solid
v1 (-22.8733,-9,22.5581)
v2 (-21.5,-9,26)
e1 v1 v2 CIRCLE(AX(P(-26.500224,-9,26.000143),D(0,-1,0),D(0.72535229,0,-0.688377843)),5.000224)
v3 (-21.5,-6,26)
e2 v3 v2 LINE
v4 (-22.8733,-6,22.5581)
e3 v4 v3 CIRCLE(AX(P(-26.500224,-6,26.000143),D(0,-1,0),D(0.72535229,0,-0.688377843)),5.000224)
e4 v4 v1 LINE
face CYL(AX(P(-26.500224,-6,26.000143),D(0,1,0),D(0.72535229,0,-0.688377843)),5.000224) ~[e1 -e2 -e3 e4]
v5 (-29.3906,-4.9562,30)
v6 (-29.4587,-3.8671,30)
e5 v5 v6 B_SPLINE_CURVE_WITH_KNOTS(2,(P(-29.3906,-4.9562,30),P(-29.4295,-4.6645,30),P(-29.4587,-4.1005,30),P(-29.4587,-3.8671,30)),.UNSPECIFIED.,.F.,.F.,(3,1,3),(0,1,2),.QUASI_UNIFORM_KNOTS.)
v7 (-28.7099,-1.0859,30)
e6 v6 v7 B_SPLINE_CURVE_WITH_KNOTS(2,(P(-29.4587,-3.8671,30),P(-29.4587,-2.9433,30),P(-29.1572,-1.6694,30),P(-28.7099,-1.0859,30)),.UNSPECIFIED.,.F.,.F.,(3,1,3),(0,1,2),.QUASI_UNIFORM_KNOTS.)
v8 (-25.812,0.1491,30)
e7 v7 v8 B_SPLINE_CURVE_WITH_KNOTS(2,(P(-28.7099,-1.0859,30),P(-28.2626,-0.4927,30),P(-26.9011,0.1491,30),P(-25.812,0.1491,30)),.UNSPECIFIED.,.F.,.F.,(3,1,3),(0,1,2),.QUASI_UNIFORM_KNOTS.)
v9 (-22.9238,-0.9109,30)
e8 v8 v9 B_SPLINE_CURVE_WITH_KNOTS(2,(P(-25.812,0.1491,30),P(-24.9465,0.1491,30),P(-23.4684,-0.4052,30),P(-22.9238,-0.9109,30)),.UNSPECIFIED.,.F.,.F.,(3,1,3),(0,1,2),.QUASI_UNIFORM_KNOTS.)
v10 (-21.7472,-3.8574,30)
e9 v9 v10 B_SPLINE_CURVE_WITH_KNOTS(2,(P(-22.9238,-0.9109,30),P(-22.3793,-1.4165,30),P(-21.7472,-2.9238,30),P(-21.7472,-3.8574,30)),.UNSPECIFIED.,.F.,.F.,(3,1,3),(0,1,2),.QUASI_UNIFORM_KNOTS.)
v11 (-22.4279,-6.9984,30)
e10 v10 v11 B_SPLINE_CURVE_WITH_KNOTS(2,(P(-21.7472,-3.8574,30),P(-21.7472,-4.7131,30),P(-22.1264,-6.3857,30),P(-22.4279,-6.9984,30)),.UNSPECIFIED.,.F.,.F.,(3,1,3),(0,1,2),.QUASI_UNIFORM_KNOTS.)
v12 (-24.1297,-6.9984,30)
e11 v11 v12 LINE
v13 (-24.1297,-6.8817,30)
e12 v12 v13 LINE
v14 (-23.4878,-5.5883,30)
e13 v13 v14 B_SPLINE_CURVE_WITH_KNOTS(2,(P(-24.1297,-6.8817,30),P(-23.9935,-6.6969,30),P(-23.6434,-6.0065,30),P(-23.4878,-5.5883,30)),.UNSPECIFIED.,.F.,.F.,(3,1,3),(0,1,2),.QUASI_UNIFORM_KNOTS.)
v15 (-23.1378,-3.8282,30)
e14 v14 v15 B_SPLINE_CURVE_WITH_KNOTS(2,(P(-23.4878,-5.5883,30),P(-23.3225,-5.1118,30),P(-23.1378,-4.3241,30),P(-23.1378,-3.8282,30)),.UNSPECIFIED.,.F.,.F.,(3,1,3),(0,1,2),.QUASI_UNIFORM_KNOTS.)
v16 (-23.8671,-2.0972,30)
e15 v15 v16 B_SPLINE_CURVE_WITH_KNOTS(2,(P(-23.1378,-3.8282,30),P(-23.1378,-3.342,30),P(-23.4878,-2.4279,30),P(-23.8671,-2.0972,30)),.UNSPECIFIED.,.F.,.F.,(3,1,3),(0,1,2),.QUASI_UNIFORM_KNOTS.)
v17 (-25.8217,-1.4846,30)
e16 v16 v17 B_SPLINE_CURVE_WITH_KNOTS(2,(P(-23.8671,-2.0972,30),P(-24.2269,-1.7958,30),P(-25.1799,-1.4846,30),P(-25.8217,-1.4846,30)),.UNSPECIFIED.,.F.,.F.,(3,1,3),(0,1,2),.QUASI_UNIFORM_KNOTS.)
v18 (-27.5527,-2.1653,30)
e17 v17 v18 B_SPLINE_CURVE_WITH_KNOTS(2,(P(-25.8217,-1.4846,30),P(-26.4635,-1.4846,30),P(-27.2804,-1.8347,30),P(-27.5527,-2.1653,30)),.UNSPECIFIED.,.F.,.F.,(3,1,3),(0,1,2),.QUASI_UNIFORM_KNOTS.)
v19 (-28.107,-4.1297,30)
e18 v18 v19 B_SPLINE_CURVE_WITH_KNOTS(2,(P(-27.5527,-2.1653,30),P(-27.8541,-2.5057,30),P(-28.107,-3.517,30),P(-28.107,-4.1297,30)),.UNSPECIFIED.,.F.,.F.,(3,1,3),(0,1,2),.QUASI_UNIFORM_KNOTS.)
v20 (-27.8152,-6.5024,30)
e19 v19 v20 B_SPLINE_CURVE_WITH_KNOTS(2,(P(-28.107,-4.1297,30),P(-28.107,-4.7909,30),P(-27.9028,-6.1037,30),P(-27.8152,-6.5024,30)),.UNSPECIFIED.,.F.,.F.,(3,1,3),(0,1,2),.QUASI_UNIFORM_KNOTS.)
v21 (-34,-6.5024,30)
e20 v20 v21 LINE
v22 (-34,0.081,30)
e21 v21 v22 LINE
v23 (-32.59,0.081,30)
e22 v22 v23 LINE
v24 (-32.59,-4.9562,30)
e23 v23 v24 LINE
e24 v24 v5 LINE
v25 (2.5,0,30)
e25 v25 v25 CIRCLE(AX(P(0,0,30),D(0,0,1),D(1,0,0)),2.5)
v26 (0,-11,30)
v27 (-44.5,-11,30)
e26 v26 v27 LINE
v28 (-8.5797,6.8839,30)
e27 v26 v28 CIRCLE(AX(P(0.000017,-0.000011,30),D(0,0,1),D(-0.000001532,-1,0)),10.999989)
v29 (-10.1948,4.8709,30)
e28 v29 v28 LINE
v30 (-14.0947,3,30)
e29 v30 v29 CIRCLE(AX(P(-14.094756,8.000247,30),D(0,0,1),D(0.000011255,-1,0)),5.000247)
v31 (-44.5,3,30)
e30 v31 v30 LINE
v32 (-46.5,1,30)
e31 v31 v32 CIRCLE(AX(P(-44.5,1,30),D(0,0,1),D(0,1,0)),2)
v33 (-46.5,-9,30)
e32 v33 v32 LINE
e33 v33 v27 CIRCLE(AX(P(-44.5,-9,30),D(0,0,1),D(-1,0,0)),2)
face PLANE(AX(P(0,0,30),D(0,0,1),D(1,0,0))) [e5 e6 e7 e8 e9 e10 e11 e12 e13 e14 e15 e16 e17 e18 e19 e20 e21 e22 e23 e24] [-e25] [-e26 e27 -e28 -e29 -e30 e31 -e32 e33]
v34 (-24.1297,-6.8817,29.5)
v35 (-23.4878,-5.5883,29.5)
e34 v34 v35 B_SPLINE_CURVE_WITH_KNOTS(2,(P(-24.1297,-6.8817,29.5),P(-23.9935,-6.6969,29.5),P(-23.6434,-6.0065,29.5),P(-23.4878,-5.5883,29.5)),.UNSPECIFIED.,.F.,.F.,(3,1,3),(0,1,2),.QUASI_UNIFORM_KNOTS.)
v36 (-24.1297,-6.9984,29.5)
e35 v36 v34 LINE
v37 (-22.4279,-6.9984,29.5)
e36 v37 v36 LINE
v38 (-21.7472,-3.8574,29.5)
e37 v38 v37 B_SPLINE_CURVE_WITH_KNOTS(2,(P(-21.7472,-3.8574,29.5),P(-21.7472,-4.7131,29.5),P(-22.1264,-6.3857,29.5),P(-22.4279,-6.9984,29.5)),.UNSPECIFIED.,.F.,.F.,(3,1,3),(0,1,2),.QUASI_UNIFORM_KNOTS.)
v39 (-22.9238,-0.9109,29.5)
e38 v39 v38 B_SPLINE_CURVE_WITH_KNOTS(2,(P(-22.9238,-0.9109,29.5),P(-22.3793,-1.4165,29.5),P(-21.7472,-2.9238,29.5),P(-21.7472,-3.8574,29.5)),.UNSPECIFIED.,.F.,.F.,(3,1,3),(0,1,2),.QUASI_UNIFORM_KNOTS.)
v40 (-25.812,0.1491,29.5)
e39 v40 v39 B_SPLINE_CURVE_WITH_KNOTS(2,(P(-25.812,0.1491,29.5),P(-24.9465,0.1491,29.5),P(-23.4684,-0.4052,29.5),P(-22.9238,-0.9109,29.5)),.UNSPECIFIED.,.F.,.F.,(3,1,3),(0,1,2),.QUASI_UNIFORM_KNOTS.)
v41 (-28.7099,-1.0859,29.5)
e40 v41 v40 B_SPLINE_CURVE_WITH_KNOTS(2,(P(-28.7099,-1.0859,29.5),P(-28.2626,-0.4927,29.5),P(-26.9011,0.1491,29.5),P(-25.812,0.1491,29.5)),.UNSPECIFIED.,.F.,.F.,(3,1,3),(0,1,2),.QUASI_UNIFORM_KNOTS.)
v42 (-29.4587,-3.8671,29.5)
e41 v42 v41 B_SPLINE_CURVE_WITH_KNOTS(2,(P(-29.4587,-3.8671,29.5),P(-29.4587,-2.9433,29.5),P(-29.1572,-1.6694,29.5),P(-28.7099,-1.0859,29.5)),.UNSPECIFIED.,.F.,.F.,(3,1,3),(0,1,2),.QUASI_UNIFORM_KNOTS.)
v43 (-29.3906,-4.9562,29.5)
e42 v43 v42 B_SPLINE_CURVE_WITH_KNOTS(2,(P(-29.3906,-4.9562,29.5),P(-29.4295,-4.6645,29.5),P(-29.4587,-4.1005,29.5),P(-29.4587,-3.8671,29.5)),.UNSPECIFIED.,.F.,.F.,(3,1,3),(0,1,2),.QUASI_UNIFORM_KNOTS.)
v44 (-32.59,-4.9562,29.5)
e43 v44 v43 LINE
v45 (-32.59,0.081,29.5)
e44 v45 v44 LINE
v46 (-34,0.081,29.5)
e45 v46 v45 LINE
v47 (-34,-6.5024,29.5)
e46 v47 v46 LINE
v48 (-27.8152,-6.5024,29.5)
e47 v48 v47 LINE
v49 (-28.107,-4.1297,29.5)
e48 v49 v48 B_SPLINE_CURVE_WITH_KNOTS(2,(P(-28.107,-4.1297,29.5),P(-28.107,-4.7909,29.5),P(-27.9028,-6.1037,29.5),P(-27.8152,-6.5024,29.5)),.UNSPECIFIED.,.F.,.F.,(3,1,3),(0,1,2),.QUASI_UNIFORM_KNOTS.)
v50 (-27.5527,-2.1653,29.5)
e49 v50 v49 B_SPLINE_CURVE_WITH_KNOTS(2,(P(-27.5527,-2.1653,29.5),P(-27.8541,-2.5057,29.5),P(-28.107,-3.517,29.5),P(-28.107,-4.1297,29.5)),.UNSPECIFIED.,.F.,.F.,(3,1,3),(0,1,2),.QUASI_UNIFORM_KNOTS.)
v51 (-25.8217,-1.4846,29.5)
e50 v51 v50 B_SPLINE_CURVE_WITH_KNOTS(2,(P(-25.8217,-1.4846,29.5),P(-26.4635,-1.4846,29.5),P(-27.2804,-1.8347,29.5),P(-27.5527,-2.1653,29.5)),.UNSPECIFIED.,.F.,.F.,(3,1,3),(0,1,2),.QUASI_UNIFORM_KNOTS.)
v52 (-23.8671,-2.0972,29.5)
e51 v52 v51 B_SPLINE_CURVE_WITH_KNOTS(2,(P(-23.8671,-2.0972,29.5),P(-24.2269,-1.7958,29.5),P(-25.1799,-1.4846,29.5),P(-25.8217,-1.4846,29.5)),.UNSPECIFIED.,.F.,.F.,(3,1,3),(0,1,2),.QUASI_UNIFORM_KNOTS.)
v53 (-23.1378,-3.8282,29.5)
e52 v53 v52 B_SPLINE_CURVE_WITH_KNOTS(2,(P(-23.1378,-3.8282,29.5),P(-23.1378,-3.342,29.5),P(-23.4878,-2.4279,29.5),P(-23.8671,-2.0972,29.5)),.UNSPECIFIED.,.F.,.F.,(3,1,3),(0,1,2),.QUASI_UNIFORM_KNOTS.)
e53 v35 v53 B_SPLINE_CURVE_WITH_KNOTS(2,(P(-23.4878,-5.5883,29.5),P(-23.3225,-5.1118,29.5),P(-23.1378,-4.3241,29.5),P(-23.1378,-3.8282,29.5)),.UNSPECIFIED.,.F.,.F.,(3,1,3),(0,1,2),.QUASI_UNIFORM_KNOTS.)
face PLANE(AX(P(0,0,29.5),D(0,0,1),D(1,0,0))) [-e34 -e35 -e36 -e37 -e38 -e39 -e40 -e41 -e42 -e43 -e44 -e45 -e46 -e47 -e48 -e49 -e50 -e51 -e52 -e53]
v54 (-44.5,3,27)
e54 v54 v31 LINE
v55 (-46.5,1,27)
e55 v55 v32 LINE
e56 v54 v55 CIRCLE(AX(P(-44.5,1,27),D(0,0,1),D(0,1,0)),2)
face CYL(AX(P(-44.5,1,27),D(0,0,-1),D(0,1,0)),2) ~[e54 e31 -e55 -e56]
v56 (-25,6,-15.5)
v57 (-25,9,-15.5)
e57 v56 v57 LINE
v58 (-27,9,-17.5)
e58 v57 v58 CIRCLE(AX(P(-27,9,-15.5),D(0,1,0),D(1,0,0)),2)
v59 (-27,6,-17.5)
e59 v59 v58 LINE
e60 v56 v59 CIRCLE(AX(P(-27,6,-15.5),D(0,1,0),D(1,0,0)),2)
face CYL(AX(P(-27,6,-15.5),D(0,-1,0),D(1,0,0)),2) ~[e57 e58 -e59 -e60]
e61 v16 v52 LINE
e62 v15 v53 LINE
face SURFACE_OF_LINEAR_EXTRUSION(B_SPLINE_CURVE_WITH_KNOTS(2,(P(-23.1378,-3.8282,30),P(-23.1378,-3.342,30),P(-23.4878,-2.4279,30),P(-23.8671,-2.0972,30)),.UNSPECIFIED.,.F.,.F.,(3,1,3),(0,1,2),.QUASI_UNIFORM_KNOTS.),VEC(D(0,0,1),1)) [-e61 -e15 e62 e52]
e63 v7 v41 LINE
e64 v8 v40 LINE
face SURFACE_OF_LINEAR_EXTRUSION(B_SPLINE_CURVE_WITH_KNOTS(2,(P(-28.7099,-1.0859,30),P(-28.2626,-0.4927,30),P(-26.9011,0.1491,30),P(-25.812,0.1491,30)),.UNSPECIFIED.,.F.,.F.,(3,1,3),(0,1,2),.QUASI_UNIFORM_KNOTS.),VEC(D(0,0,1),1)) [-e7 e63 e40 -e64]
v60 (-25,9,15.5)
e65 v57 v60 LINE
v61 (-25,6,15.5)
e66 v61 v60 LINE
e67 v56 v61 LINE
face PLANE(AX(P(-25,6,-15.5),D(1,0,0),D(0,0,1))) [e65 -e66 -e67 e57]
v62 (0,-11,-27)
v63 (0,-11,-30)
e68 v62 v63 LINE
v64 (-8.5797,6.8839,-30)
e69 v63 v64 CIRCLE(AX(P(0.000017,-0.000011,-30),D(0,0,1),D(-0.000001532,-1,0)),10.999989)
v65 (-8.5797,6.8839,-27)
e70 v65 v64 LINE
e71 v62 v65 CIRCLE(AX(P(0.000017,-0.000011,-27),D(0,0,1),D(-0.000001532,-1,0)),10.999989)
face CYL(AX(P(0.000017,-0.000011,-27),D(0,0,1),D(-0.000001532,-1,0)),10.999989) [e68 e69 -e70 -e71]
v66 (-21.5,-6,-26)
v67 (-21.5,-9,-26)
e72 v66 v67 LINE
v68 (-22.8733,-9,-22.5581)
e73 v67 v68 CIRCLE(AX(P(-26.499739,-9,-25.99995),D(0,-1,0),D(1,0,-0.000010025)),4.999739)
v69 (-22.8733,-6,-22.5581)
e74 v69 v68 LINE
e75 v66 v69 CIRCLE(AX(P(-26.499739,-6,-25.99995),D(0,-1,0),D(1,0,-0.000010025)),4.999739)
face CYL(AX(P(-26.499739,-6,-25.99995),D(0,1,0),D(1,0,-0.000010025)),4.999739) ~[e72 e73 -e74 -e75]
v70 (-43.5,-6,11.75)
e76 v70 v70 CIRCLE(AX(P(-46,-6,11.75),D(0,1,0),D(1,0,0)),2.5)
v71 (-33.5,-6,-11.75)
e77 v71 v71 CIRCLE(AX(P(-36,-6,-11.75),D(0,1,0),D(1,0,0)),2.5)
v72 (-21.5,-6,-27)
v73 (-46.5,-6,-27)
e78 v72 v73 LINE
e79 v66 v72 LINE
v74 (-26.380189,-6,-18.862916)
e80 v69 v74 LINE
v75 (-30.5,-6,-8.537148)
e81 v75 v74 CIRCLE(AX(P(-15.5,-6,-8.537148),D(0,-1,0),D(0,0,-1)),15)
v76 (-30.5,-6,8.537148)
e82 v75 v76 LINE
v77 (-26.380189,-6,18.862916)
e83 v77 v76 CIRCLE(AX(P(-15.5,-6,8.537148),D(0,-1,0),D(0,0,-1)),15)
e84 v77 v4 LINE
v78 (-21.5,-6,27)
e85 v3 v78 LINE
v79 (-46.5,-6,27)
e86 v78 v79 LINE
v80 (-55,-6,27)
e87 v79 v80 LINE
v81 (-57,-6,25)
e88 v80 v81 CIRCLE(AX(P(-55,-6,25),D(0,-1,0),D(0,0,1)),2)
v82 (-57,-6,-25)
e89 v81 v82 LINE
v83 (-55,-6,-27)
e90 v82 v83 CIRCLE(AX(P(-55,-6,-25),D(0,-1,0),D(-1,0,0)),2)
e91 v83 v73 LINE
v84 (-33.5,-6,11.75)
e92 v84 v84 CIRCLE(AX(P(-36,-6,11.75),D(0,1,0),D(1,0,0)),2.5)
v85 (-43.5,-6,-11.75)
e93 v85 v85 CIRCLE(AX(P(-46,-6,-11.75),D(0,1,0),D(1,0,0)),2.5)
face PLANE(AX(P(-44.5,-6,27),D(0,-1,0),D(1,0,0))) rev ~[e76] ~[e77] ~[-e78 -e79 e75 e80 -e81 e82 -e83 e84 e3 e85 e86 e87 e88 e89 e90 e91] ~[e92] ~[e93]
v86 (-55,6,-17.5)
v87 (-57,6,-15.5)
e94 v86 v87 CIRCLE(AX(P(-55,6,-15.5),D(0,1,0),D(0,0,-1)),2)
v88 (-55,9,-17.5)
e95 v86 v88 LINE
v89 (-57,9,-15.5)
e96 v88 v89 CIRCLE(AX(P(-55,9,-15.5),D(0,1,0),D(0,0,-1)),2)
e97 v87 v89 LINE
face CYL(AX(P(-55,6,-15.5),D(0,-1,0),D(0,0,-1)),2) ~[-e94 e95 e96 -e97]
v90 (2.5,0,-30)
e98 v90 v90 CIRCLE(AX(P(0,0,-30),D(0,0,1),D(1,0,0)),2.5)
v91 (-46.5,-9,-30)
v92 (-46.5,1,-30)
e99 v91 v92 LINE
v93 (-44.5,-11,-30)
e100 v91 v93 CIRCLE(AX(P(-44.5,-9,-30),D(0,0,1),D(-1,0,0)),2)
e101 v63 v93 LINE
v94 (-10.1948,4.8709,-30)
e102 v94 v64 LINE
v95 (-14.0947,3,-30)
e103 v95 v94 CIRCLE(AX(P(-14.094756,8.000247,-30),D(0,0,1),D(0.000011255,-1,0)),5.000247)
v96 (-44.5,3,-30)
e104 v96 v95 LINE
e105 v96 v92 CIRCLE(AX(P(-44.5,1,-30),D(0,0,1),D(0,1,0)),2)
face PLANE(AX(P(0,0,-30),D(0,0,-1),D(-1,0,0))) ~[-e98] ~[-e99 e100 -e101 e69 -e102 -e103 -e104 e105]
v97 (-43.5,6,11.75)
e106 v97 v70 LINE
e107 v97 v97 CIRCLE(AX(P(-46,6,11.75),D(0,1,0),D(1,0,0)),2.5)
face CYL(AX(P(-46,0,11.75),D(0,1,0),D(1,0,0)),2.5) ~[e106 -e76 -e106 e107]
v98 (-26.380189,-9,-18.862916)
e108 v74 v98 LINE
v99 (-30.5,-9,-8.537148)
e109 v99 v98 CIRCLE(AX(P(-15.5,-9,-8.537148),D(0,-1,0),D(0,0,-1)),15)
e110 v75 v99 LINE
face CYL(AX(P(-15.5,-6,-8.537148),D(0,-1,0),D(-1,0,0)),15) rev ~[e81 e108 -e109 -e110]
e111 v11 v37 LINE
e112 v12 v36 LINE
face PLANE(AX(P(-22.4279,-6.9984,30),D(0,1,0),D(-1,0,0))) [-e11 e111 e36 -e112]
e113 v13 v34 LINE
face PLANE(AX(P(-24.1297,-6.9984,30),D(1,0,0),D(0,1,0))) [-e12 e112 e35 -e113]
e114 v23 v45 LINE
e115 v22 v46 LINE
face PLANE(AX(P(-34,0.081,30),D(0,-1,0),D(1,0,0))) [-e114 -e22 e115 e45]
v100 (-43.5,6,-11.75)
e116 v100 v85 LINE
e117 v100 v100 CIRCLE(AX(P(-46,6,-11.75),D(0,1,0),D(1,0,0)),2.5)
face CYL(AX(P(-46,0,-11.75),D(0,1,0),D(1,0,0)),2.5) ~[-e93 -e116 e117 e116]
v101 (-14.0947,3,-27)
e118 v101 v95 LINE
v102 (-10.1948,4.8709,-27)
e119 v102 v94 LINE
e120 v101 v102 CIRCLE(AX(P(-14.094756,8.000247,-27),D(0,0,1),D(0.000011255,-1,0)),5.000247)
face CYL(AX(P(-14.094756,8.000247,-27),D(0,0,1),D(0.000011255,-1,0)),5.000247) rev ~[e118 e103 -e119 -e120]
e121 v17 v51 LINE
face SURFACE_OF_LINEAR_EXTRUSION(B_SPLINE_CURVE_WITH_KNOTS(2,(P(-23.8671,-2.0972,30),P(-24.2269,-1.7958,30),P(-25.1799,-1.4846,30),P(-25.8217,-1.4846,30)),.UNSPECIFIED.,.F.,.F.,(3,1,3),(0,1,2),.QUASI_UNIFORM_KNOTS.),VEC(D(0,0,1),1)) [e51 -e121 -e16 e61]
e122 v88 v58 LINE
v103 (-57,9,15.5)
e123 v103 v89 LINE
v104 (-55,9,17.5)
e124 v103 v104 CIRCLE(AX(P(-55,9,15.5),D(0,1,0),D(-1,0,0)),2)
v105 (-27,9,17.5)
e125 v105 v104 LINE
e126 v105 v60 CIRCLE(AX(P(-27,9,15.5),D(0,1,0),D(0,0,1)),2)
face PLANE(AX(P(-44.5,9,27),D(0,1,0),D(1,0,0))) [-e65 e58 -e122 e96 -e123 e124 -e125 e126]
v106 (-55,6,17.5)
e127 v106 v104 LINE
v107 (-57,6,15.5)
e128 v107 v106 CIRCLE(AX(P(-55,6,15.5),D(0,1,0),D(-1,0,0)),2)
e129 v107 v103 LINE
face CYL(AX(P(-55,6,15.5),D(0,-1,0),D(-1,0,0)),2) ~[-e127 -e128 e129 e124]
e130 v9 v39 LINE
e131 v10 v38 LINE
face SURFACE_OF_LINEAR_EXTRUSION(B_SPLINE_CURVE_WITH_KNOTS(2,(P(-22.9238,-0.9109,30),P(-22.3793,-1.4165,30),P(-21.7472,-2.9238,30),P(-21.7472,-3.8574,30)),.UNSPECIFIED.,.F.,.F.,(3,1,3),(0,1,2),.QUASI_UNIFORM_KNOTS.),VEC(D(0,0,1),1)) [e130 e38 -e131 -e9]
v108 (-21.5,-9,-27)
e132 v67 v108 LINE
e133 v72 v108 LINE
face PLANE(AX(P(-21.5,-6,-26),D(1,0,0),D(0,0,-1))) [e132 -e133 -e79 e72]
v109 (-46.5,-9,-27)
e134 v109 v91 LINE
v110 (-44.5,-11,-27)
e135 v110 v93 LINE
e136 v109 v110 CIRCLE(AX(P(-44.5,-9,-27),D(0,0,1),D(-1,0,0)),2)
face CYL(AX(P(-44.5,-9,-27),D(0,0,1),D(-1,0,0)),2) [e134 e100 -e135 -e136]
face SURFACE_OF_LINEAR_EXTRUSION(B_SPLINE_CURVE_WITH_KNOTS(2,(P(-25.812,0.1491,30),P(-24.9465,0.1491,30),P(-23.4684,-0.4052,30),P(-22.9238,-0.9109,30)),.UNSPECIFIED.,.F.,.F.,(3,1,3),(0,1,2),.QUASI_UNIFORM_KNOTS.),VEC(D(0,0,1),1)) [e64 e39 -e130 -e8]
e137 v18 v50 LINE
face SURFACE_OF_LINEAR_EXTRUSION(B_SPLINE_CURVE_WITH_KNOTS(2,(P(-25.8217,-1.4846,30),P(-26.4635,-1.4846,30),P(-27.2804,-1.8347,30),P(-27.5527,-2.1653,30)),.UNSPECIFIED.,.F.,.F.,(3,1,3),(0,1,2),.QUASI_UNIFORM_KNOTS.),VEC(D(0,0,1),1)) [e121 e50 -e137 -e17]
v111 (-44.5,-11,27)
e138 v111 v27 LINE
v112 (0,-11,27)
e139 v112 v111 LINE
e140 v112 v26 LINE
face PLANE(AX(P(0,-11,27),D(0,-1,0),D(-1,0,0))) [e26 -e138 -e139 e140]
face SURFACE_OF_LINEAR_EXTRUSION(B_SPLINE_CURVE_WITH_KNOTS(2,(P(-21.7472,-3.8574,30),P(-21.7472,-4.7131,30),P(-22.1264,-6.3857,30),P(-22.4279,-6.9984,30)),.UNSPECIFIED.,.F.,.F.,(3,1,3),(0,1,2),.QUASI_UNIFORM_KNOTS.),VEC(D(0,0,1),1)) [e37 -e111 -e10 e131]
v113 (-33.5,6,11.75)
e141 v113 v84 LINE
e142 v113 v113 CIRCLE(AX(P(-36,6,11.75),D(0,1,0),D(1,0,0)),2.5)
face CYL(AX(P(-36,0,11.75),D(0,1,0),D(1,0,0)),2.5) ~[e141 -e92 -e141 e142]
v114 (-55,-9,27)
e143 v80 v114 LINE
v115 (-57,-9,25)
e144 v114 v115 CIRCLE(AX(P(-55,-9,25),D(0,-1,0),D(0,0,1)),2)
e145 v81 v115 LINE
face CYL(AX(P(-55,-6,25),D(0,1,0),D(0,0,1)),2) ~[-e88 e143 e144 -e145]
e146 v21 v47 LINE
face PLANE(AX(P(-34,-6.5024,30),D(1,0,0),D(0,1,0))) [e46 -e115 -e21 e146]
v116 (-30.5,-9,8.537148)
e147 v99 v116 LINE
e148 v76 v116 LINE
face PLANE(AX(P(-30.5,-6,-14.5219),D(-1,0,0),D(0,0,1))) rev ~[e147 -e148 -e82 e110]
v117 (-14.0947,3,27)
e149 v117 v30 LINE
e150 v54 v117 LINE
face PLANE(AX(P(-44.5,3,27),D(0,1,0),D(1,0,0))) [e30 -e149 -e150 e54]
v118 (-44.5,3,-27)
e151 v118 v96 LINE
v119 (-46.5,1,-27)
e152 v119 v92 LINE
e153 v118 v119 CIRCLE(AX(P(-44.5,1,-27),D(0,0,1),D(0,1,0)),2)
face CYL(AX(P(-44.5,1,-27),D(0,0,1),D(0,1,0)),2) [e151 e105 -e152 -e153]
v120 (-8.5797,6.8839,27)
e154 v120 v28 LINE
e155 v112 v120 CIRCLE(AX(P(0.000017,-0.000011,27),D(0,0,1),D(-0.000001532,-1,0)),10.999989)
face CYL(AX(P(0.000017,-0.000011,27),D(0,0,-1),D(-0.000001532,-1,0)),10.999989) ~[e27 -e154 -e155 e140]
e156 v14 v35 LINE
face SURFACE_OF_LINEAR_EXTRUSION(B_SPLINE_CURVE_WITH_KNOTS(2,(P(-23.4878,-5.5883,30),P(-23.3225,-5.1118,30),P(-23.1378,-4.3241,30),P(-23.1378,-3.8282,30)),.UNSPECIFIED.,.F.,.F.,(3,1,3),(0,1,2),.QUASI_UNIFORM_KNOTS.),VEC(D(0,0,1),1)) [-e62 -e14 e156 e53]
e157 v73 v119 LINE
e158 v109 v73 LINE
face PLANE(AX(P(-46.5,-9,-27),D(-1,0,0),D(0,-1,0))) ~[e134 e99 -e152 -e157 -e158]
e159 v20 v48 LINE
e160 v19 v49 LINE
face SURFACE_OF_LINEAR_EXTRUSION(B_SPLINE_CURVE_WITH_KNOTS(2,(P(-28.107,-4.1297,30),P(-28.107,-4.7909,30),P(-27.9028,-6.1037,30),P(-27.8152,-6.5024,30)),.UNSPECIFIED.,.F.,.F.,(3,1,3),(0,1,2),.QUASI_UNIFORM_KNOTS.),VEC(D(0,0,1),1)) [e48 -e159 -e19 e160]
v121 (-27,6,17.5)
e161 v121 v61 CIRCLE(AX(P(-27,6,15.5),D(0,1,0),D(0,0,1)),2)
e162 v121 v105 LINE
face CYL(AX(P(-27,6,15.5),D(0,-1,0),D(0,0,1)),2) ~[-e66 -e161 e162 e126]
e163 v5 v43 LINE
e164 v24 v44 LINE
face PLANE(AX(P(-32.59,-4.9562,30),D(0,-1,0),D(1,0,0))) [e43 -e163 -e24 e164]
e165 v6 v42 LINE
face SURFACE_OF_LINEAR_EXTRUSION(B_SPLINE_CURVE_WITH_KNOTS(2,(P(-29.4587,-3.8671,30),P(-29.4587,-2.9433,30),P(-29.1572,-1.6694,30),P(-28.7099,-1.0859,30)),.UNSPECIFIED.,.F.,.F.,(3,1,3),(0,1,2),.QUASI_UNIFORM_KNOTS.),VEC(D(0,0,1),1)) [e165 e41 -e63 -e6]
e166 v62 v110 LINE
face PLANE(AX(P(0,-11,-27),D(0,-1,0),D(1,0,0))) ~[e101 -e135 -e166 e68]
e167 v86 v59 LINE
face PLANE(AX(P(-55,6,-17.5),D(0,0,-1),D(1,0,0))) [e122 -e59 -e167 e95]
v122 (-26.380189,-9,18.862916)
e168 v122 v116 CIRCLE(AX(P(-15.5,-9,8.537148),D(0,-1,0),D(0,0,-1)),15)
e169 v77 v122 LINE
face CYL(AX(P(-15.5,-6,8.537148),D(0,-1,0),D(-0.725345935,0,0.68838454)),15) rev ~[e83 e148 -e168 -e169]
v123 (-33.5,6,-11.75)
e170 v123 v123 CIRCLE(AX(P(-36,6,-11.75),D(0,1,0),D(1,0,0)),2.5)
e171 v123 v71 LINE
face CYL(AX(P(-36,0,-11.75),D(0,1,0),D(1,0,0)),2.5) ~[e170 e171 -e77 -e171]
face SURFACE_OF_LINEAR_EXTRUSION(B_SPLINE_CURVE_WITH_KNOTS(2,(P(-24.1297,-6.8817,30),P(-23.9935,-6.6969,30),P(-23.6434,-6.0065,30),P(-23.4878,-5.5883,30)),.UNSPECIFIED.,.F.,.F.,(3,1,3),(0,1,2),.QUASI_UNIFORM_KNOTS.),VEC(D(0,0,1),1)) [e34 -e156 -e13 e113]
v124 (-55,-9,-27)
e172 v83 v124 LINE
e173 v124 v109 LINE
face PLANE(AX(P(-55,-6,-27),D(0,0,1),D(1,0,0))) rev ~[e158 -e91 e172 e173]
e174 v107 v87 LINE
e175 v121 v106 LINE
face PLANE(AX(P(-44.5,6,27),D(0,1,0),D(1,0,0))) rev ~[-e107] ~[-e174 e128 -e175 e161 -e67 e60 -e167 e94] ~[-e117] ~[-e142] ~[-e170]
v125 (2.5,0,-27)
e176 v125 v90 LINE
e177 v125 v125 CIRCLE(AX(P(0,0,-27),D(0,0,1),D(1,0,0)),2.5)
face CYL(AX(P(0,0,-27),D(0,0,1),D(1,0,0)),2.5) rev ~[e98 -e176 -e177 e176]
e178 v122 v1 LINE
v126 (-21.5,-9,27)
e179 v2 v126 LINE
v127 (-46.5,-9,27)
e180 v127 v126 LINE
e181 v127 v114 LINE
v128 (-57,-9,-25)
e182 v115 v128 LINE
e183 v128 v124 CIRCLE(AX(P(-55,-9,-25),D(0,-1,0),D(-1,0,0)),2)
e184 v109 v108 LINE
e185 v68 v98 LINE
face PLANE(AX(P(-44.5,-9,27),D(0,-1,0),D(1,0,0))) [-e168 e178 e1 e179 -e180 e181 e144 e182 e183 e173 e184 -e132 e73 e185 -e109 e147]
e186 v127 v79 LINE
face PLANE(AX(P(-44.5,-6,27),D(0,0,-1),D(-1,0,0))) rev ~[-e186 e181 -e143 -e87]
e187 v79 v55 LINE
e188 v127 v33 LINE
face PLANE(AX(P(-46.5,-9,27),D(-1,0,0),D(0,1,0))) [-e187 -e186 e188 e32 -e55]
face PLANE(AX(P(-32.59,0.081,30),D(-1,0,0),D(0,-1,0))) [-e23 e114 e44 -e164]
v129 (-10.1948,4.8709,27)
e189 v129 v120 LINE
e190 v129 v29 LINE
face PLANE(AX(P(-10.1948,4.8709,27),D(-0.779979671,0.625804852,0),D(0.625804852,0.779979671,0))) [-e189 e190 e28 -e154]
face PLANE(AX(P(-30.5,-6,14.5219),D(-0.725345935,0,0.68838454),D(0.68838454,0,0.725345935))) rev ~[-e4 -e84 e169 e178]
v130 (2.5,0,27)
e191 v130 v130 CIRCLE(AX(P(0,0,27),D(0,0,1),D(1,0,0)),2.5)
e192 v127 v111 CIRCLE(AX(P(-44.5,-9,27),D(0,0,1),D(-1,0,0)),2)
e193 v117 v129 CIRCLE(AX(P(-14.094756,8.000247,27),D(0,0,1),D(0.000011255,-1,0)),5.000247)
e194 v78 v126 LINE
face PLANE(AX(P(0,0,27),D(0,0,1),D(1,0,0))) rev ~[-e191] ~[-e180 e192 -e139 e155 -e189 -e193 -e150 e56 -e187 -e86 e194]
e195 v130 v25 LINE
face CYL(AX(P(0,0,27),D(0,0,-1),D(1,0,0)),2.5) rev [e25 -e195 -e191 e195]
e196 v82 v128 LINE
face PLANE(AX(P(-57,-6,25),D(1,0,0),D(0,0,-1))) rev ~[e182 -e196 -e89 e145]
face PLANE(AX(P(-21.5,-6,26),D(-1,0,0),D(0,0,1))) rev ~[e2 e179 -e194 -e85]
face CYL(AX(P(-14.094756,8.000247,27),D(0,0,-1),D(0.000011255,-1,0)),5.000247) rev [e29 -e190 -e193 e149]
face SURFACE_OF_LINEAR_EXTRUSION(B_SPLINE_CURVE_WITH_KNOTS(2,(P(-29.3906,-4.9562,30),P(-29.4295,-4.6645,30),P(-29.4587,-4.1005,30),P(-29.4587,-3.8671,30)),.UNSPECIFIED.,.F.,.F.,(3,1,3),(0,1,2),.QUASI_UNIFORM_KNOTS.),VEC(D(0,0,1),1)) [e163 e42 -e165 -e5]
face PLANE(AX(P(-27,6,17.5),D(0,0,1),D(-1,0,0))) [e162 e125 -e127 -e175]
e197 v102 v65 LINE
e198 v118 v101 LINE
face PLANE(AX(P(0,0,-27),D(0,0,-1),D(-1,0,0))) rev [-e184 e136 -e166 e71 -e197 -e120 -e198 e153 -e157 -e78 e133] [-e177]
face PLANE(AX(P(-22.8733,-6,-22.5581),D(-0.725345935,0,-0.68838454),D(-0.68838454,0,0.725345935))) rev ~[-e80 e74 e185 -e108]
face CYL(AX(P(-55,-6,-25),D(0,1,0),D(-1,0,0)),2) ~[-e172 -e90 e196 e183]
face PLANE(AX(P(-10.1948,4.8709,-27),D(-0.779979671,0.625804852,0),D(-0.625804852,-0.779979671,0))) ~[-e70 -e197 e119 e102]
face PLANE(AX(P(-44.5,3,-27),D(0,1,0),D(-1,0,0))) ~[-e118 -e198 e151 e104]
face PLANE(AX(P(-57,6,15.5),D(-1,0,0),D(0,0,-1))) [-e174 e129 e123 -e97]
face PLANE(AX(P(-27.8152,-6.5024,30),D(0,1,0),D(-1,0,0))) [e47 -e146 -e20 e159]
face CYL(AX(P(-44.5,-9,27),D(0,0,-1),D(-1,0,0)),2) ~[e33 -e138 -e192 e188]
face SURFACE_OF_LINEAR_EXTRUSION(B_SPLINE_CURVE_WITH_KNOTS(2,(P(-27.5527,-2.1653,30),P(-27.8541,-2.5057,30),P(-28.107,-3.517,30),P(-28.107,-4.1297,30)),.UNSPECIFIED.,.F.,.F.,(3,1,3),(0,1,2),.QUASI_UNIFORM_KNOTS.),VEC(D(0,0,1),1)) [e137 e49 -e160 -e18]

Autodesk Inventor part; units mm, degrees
ref_plane "Plano de trabajo1" through (0, 0, 27) normal (0, 0, 1) x (1, 0, 0)
sketch "Boceto1" plane through (0, 0, 27) normal (0, 0, 1) x (1, 0, 0)
  arc A0 (0, -11) -> (-8.5797, 6.8839) centre (0, 0) ccw
  line L0 (0, -11) -> (-44.5, -11)
  line L1 (-46.5, -9) -> (-46.5, 1)
  line L2 (-44.5, 3) -> (-14.0947, 3)
  line L3 (-10.1948, 4.8709) -> (-8.5797, 6.8839)
  arc A1 (-14.0947, 3) -> (-10.1948, 4.8709) centre (-14.0947, 8) ccw
  arc A2 (-44.5, 3) -> (-46.5, 1) centre (-44.5, 1) ccw
  arc A3 (-46.5, -9) -> (-44.5, -11) centre (-44.5, -9) ccw
  circle A4 centre (0, 0) radius 2.5
  point P0 (-46.5, -11)
  point P1 (-46.5, 3)
  point P2 (11, 0)
  dimension "d1" = 22
  dimension "d3" = 5
  dimension "d4" = 14
  dimension "d5" = 57.5
  dimension "d6" = 2
  dimension "d7" = 5
extrude "Extrusión1" add sketch "Boceto1" along normal blind 3
mirror "Simetría1" about plane through (0, 0, 0) normal (0, 0, 1) of "Extrusión1"
ref_plane "Plano de trabajo2" through (-44.5, -6, 27) normal (0, -1, 0) x (1, 0, 0)
sketch "Boceto2" plane through (-44.5, -6, 27) normal (0, -1, 0) x (1, 0, 0)
  line L0 (0, 0) -> (44.5, 0) projected
  line L1 (23, 0) -> (-10.5, 0)
  line L2 (-12.5, -2) -> (-12.5, -52)
  line L3 (-10.5, -54) -> (23, -54)
  line L4 (0, -54) -> (44.5, -54) projected
  line L5 (21.6267, -49.5581) -> (14, -41.5219)
  line L6 (14, -41.5219) -> (14, -12.4781)
  line L7 (14, -12.4781) -> (21.6267, -4.4419)
  line L8 (23, -1) -> (23, 0)
  line L9 (23, -53) -> (23, -54)
  line L10 (0, 3) -> (-2, 3) projected
  line L11 (14, -27) -> (-19.9317, -27) construction
  arc A0 (21.6267, -4.4419) -> (23, -1) centre (18, -1) ccw
  arc A1 (23, -53) -> (21.6267, -49.5581) centre (18, -53) ccw
  arc A2 (-10.5, 0) -> (-12.5, -2) centre (-10.5, -2) ccw
  arc A3 (-12.5, -52) -> (-10.5, -54) centre (-10.5, -52) ccw
  point P0 (44.5, -27)
  point P1 (-12.5, 0)
  point P2 (-12.5, -54)
  point P3 (-1, 3)
  dimension "d11" = 26.5
  dimension "d12" = 11.5
  dimension "d13" = 9
  dimension "d14" = 9
  dimension "d16" = 5
  dimension "d17" = 1
  dimension "d18" = 1
  dimension "d19" = 27
  dimension "d40" = 2
extrude "Extrusión2" add sketch "Boceto2" along normal blind 3
ref_plane "Plano de trabajo3" through (-44.5, 6, 27) normal (0, 1, 0) x (1, 0, 0)
sketch "Boceto3" plane through (-44.5, 6, 27) normal (0, 1, 0) x (1, 0, 0)
  line L0 (-10.5, 44.5) -> (17.5, 44.5)
  line L1 (19.5, 42.5) -> (19.5, 11.5)
  line L2 (17.5, 9.5) -> (-10.5, 9.5)
  line L3 (-12.5, 11.5) -> (-12.5, 42.5)
  line L4 (0, 27) -> (-59, 27) construction
  line L5 (30.4053, 0) -> (0, 0) projected
  arc A0 (-10.5, 44.5) -> (-12.5, 42.5) centre (-10.5, 42.5) ccw
  arc A1 (-12.5, 11.5) -> (-10.5, 9.5) centre (-10.5, 11.5) ccw
  arc A2 (17.5, 9.5) -> (19.5, 11.5) centre (17.5, 11.5) ccw
  arc A3 (19.5, 42.5) -> (17.5, 44.5) centre (17.5, 42.5) ccw
  line L6 (-12.5, 2) -> (-12.5, 52) construction
  point P0 (44.5, 27)
  point P1 (-12.5, 44.5)
  point P2 (19.5, 44.5)
  point P3 (-12.5, 9.5)
  point P4 (-12.5, 27)
  point P5 (-12.5, 0)
  point P6 (-12.5, 54)
  dimension "d23" = 35
  dimension "d24" = 32
  dimension "d25" = 27
  dimension "d26" = 2
extrude "Extrusión3" add sketch "Boceto3" along normal blind 3
sketch "Boceto4" plane through (-44.5, 9, 27) normal (0, 1, 0) x (1, 0, 0)
  line L0 (-12.5, 42.5) -> (-12.5, 11.5) construction
  line L1 (-12.5, 27) -> (20, 27) construction
  circle A0 centre (8.5, 38.75) radius 2.5
  circle A1 centre (-1.5, 38.75) radius 2.5
  line L2 (3.5, 27) -> (3.5, -23) construction
  circle A2 centre (8.5, 15.25) radius 2.5
  circle A3 centre (-1.5, 15.25) radius 2.5
  point P0 (44.5, 27)
  dimension "d29" = 5
  dimension "d30" = 10
  dimension "d31" = 16
  dimension "d32" = 11.75
extrude "Extrusión4" cut sketch "Boceto4" against normal up to surface (18 mm away)
fillet "Empalme1" radius 15 2 edges at (-30.5, -7.5, 14.5219) (-30.5, -7.5, -14.5219)
sketch "Boceto5" plane through (0, 0, 30) normal (0, 0, 1) x (1, 0, 0)
  line L0 (-34, -8) -> (-34, 17.5513) construction
  line L1 (-34, 17.5513) -> (-23.3891, 17.5513) construction
  line L2 (-23.3891, 17.5513) -> (-23.3891, -8) construction
  line L3 (-23.3891, -8) -> (-34, -8) construction
  spline S0 degree 2 poles (-25.812, 0.1491) (-24.9465, 0.1491) (-23.4684, -0.4052) (-22.9238, -0.9109) knots 0 0 0 1 2 2 2
  spline S1 degree 2 poles (-22.9238, -0.9109) (-22.3793, -1.4165) (-21.7472, -2.9238) (-21.7472, -3.8574) knots 0 0 0 1 2 2 2
  spline S2 degree 2 poles (-21.7472, -3.8574) (-21.7472, -4.7131) (-22.1264, -6.3857) (-22.4279, -6.9984) knots 0 0 0 1 2 2 2
  line L4 (-22.4279, -6.9984) -> (-24.1297, -6.9984)
  line L5 (-24.1297, -6.9984) -> (-24.1297, -6.8817)
  spline S3 degree 2 poles (-24.1297, -6.8817) (-23.9935, -6.6969) (-23.6434, -6.0065) (-23.4878, -5.5883) knots 0 0 0 1 2 2 2
  spline S4 degree 2 poles (-23.4878, -5.5883) (-23.3225, -5.1118) (-23.1378, -4.3241) (-23.1378, -3.8282) knots 0 0 0 1 2 2 2
  spline S5 degree 2 poles (-23.1378, -3.8282) (-23.1378, -3.342) (-23.4878, -2.4279) (-23.8671, -2.0972) knots 0 0 0 1 2 2 2
  spline S6 degree 2 poles (-23.8671, -2.0972) (-24.2269, -1.7958) (-25.1799, -1.4846) (-25.8217, -1.4846) knots 0 0 0 1 2 2 2
  spline S7 degree 2 poles (-25.8217, -1.4846) (-26.4635, -1.4846) (-27.2804, -1.8347) (-27.5527, -2.1653) knots 0 0 0 1 2 2 2
  spline S8 degree 2 poles (-27.5527, -2.1653) (-27.8541, -2.5057) (-28.107, -3.517) (-28.107, -4.1297) knots 0 0 0 1 2 2 2
  spline S9 degree 2 poles (-28.107, -4.1297) (-28.107, -4.7909) (-27.9028, -6.1037) (-27.8152, -6.5024) knots 0 0 0 1 2 2 2
  line L6 (-27.8152, -6.5024) -> (-34, -6.5024)
  line L7 (-34, -6.5024) -> (-34, 0.081)
  line L8 (-34, 0.081) -> (-32.59, 0.081)
  line L9 (-32.59, 0.081) -> (-32.59, -4.9562)
  line L10 (-32.59, -4.9562) -> (-29.3906, -4.9562)
  spline S10 degree 2 poles (-29.3906, -4.9562) (-29.4295, -4.6645) (-29.4587, -4.1005) (-29.4587, -3.8671) knots 0 0 0 1 2 2 2
  spline S11 degree 2 poles (-29.4587, -3.8671) (-29.4587, -2.9433) (-29.1572, -1.6694) (-28.7099, -1.0859) knots 0 0 0 1 2 2 2
  spline S12 degree 2 poles (-28.7099, -1.0859) (-28.2626, -0.4927) (-26.9011, 0.1491) (-25.812, 0.1491) knots 0 0 0 1 2 2 2
  point P0 (0, 0)
extrude "Extrusión5" cut sketch "Boceto5" against normal blind 0.5
ref_plane "Plano de trabajo4" through (-44.5, 0, 27) normal (0, -1, 0) x (1, 0, 0)
sketch "Boceto6" plane through (-44.5, 0, 27) normal (0, -1, 0) x (1, 0, 0)
  circle A0 centre (8.5, -15.25) radius 2.5 projected
  circle A1 centre (-1.5, -15.25) radius 2.5 projected
  circle A2 centre (8.5, -38.75) radius 2.5 projected
  circle A3 centre (-1.5, -38.75) radius 2.5 projected
  point P0 (44.5, -27)
extrude "Extrusión6" add sketch "Boceto6" along normal mid plane 18
equation "\"Radio_pliegue\" = Grosor"
equation "\"Anchura_desahogo_plegado\" = Grosor"
equation "\"Profundidad_desahogo_plegado\" = 0.5 * Grosor"
equation "\"Tamaño_destalonado\" = 4 * Grosor"
equation "\"Remanente_mínimo\" = 2 * Grosor"
equation "\"Radiodetransición\" = Radio_pliegue"
equation "\"Tamaño_de_radio_de_Jacobi\" = Radio_pliegue"
equation "\"TamañoSeparación\" = Grosor"
equation "\"Grosor\" = 0.5"
